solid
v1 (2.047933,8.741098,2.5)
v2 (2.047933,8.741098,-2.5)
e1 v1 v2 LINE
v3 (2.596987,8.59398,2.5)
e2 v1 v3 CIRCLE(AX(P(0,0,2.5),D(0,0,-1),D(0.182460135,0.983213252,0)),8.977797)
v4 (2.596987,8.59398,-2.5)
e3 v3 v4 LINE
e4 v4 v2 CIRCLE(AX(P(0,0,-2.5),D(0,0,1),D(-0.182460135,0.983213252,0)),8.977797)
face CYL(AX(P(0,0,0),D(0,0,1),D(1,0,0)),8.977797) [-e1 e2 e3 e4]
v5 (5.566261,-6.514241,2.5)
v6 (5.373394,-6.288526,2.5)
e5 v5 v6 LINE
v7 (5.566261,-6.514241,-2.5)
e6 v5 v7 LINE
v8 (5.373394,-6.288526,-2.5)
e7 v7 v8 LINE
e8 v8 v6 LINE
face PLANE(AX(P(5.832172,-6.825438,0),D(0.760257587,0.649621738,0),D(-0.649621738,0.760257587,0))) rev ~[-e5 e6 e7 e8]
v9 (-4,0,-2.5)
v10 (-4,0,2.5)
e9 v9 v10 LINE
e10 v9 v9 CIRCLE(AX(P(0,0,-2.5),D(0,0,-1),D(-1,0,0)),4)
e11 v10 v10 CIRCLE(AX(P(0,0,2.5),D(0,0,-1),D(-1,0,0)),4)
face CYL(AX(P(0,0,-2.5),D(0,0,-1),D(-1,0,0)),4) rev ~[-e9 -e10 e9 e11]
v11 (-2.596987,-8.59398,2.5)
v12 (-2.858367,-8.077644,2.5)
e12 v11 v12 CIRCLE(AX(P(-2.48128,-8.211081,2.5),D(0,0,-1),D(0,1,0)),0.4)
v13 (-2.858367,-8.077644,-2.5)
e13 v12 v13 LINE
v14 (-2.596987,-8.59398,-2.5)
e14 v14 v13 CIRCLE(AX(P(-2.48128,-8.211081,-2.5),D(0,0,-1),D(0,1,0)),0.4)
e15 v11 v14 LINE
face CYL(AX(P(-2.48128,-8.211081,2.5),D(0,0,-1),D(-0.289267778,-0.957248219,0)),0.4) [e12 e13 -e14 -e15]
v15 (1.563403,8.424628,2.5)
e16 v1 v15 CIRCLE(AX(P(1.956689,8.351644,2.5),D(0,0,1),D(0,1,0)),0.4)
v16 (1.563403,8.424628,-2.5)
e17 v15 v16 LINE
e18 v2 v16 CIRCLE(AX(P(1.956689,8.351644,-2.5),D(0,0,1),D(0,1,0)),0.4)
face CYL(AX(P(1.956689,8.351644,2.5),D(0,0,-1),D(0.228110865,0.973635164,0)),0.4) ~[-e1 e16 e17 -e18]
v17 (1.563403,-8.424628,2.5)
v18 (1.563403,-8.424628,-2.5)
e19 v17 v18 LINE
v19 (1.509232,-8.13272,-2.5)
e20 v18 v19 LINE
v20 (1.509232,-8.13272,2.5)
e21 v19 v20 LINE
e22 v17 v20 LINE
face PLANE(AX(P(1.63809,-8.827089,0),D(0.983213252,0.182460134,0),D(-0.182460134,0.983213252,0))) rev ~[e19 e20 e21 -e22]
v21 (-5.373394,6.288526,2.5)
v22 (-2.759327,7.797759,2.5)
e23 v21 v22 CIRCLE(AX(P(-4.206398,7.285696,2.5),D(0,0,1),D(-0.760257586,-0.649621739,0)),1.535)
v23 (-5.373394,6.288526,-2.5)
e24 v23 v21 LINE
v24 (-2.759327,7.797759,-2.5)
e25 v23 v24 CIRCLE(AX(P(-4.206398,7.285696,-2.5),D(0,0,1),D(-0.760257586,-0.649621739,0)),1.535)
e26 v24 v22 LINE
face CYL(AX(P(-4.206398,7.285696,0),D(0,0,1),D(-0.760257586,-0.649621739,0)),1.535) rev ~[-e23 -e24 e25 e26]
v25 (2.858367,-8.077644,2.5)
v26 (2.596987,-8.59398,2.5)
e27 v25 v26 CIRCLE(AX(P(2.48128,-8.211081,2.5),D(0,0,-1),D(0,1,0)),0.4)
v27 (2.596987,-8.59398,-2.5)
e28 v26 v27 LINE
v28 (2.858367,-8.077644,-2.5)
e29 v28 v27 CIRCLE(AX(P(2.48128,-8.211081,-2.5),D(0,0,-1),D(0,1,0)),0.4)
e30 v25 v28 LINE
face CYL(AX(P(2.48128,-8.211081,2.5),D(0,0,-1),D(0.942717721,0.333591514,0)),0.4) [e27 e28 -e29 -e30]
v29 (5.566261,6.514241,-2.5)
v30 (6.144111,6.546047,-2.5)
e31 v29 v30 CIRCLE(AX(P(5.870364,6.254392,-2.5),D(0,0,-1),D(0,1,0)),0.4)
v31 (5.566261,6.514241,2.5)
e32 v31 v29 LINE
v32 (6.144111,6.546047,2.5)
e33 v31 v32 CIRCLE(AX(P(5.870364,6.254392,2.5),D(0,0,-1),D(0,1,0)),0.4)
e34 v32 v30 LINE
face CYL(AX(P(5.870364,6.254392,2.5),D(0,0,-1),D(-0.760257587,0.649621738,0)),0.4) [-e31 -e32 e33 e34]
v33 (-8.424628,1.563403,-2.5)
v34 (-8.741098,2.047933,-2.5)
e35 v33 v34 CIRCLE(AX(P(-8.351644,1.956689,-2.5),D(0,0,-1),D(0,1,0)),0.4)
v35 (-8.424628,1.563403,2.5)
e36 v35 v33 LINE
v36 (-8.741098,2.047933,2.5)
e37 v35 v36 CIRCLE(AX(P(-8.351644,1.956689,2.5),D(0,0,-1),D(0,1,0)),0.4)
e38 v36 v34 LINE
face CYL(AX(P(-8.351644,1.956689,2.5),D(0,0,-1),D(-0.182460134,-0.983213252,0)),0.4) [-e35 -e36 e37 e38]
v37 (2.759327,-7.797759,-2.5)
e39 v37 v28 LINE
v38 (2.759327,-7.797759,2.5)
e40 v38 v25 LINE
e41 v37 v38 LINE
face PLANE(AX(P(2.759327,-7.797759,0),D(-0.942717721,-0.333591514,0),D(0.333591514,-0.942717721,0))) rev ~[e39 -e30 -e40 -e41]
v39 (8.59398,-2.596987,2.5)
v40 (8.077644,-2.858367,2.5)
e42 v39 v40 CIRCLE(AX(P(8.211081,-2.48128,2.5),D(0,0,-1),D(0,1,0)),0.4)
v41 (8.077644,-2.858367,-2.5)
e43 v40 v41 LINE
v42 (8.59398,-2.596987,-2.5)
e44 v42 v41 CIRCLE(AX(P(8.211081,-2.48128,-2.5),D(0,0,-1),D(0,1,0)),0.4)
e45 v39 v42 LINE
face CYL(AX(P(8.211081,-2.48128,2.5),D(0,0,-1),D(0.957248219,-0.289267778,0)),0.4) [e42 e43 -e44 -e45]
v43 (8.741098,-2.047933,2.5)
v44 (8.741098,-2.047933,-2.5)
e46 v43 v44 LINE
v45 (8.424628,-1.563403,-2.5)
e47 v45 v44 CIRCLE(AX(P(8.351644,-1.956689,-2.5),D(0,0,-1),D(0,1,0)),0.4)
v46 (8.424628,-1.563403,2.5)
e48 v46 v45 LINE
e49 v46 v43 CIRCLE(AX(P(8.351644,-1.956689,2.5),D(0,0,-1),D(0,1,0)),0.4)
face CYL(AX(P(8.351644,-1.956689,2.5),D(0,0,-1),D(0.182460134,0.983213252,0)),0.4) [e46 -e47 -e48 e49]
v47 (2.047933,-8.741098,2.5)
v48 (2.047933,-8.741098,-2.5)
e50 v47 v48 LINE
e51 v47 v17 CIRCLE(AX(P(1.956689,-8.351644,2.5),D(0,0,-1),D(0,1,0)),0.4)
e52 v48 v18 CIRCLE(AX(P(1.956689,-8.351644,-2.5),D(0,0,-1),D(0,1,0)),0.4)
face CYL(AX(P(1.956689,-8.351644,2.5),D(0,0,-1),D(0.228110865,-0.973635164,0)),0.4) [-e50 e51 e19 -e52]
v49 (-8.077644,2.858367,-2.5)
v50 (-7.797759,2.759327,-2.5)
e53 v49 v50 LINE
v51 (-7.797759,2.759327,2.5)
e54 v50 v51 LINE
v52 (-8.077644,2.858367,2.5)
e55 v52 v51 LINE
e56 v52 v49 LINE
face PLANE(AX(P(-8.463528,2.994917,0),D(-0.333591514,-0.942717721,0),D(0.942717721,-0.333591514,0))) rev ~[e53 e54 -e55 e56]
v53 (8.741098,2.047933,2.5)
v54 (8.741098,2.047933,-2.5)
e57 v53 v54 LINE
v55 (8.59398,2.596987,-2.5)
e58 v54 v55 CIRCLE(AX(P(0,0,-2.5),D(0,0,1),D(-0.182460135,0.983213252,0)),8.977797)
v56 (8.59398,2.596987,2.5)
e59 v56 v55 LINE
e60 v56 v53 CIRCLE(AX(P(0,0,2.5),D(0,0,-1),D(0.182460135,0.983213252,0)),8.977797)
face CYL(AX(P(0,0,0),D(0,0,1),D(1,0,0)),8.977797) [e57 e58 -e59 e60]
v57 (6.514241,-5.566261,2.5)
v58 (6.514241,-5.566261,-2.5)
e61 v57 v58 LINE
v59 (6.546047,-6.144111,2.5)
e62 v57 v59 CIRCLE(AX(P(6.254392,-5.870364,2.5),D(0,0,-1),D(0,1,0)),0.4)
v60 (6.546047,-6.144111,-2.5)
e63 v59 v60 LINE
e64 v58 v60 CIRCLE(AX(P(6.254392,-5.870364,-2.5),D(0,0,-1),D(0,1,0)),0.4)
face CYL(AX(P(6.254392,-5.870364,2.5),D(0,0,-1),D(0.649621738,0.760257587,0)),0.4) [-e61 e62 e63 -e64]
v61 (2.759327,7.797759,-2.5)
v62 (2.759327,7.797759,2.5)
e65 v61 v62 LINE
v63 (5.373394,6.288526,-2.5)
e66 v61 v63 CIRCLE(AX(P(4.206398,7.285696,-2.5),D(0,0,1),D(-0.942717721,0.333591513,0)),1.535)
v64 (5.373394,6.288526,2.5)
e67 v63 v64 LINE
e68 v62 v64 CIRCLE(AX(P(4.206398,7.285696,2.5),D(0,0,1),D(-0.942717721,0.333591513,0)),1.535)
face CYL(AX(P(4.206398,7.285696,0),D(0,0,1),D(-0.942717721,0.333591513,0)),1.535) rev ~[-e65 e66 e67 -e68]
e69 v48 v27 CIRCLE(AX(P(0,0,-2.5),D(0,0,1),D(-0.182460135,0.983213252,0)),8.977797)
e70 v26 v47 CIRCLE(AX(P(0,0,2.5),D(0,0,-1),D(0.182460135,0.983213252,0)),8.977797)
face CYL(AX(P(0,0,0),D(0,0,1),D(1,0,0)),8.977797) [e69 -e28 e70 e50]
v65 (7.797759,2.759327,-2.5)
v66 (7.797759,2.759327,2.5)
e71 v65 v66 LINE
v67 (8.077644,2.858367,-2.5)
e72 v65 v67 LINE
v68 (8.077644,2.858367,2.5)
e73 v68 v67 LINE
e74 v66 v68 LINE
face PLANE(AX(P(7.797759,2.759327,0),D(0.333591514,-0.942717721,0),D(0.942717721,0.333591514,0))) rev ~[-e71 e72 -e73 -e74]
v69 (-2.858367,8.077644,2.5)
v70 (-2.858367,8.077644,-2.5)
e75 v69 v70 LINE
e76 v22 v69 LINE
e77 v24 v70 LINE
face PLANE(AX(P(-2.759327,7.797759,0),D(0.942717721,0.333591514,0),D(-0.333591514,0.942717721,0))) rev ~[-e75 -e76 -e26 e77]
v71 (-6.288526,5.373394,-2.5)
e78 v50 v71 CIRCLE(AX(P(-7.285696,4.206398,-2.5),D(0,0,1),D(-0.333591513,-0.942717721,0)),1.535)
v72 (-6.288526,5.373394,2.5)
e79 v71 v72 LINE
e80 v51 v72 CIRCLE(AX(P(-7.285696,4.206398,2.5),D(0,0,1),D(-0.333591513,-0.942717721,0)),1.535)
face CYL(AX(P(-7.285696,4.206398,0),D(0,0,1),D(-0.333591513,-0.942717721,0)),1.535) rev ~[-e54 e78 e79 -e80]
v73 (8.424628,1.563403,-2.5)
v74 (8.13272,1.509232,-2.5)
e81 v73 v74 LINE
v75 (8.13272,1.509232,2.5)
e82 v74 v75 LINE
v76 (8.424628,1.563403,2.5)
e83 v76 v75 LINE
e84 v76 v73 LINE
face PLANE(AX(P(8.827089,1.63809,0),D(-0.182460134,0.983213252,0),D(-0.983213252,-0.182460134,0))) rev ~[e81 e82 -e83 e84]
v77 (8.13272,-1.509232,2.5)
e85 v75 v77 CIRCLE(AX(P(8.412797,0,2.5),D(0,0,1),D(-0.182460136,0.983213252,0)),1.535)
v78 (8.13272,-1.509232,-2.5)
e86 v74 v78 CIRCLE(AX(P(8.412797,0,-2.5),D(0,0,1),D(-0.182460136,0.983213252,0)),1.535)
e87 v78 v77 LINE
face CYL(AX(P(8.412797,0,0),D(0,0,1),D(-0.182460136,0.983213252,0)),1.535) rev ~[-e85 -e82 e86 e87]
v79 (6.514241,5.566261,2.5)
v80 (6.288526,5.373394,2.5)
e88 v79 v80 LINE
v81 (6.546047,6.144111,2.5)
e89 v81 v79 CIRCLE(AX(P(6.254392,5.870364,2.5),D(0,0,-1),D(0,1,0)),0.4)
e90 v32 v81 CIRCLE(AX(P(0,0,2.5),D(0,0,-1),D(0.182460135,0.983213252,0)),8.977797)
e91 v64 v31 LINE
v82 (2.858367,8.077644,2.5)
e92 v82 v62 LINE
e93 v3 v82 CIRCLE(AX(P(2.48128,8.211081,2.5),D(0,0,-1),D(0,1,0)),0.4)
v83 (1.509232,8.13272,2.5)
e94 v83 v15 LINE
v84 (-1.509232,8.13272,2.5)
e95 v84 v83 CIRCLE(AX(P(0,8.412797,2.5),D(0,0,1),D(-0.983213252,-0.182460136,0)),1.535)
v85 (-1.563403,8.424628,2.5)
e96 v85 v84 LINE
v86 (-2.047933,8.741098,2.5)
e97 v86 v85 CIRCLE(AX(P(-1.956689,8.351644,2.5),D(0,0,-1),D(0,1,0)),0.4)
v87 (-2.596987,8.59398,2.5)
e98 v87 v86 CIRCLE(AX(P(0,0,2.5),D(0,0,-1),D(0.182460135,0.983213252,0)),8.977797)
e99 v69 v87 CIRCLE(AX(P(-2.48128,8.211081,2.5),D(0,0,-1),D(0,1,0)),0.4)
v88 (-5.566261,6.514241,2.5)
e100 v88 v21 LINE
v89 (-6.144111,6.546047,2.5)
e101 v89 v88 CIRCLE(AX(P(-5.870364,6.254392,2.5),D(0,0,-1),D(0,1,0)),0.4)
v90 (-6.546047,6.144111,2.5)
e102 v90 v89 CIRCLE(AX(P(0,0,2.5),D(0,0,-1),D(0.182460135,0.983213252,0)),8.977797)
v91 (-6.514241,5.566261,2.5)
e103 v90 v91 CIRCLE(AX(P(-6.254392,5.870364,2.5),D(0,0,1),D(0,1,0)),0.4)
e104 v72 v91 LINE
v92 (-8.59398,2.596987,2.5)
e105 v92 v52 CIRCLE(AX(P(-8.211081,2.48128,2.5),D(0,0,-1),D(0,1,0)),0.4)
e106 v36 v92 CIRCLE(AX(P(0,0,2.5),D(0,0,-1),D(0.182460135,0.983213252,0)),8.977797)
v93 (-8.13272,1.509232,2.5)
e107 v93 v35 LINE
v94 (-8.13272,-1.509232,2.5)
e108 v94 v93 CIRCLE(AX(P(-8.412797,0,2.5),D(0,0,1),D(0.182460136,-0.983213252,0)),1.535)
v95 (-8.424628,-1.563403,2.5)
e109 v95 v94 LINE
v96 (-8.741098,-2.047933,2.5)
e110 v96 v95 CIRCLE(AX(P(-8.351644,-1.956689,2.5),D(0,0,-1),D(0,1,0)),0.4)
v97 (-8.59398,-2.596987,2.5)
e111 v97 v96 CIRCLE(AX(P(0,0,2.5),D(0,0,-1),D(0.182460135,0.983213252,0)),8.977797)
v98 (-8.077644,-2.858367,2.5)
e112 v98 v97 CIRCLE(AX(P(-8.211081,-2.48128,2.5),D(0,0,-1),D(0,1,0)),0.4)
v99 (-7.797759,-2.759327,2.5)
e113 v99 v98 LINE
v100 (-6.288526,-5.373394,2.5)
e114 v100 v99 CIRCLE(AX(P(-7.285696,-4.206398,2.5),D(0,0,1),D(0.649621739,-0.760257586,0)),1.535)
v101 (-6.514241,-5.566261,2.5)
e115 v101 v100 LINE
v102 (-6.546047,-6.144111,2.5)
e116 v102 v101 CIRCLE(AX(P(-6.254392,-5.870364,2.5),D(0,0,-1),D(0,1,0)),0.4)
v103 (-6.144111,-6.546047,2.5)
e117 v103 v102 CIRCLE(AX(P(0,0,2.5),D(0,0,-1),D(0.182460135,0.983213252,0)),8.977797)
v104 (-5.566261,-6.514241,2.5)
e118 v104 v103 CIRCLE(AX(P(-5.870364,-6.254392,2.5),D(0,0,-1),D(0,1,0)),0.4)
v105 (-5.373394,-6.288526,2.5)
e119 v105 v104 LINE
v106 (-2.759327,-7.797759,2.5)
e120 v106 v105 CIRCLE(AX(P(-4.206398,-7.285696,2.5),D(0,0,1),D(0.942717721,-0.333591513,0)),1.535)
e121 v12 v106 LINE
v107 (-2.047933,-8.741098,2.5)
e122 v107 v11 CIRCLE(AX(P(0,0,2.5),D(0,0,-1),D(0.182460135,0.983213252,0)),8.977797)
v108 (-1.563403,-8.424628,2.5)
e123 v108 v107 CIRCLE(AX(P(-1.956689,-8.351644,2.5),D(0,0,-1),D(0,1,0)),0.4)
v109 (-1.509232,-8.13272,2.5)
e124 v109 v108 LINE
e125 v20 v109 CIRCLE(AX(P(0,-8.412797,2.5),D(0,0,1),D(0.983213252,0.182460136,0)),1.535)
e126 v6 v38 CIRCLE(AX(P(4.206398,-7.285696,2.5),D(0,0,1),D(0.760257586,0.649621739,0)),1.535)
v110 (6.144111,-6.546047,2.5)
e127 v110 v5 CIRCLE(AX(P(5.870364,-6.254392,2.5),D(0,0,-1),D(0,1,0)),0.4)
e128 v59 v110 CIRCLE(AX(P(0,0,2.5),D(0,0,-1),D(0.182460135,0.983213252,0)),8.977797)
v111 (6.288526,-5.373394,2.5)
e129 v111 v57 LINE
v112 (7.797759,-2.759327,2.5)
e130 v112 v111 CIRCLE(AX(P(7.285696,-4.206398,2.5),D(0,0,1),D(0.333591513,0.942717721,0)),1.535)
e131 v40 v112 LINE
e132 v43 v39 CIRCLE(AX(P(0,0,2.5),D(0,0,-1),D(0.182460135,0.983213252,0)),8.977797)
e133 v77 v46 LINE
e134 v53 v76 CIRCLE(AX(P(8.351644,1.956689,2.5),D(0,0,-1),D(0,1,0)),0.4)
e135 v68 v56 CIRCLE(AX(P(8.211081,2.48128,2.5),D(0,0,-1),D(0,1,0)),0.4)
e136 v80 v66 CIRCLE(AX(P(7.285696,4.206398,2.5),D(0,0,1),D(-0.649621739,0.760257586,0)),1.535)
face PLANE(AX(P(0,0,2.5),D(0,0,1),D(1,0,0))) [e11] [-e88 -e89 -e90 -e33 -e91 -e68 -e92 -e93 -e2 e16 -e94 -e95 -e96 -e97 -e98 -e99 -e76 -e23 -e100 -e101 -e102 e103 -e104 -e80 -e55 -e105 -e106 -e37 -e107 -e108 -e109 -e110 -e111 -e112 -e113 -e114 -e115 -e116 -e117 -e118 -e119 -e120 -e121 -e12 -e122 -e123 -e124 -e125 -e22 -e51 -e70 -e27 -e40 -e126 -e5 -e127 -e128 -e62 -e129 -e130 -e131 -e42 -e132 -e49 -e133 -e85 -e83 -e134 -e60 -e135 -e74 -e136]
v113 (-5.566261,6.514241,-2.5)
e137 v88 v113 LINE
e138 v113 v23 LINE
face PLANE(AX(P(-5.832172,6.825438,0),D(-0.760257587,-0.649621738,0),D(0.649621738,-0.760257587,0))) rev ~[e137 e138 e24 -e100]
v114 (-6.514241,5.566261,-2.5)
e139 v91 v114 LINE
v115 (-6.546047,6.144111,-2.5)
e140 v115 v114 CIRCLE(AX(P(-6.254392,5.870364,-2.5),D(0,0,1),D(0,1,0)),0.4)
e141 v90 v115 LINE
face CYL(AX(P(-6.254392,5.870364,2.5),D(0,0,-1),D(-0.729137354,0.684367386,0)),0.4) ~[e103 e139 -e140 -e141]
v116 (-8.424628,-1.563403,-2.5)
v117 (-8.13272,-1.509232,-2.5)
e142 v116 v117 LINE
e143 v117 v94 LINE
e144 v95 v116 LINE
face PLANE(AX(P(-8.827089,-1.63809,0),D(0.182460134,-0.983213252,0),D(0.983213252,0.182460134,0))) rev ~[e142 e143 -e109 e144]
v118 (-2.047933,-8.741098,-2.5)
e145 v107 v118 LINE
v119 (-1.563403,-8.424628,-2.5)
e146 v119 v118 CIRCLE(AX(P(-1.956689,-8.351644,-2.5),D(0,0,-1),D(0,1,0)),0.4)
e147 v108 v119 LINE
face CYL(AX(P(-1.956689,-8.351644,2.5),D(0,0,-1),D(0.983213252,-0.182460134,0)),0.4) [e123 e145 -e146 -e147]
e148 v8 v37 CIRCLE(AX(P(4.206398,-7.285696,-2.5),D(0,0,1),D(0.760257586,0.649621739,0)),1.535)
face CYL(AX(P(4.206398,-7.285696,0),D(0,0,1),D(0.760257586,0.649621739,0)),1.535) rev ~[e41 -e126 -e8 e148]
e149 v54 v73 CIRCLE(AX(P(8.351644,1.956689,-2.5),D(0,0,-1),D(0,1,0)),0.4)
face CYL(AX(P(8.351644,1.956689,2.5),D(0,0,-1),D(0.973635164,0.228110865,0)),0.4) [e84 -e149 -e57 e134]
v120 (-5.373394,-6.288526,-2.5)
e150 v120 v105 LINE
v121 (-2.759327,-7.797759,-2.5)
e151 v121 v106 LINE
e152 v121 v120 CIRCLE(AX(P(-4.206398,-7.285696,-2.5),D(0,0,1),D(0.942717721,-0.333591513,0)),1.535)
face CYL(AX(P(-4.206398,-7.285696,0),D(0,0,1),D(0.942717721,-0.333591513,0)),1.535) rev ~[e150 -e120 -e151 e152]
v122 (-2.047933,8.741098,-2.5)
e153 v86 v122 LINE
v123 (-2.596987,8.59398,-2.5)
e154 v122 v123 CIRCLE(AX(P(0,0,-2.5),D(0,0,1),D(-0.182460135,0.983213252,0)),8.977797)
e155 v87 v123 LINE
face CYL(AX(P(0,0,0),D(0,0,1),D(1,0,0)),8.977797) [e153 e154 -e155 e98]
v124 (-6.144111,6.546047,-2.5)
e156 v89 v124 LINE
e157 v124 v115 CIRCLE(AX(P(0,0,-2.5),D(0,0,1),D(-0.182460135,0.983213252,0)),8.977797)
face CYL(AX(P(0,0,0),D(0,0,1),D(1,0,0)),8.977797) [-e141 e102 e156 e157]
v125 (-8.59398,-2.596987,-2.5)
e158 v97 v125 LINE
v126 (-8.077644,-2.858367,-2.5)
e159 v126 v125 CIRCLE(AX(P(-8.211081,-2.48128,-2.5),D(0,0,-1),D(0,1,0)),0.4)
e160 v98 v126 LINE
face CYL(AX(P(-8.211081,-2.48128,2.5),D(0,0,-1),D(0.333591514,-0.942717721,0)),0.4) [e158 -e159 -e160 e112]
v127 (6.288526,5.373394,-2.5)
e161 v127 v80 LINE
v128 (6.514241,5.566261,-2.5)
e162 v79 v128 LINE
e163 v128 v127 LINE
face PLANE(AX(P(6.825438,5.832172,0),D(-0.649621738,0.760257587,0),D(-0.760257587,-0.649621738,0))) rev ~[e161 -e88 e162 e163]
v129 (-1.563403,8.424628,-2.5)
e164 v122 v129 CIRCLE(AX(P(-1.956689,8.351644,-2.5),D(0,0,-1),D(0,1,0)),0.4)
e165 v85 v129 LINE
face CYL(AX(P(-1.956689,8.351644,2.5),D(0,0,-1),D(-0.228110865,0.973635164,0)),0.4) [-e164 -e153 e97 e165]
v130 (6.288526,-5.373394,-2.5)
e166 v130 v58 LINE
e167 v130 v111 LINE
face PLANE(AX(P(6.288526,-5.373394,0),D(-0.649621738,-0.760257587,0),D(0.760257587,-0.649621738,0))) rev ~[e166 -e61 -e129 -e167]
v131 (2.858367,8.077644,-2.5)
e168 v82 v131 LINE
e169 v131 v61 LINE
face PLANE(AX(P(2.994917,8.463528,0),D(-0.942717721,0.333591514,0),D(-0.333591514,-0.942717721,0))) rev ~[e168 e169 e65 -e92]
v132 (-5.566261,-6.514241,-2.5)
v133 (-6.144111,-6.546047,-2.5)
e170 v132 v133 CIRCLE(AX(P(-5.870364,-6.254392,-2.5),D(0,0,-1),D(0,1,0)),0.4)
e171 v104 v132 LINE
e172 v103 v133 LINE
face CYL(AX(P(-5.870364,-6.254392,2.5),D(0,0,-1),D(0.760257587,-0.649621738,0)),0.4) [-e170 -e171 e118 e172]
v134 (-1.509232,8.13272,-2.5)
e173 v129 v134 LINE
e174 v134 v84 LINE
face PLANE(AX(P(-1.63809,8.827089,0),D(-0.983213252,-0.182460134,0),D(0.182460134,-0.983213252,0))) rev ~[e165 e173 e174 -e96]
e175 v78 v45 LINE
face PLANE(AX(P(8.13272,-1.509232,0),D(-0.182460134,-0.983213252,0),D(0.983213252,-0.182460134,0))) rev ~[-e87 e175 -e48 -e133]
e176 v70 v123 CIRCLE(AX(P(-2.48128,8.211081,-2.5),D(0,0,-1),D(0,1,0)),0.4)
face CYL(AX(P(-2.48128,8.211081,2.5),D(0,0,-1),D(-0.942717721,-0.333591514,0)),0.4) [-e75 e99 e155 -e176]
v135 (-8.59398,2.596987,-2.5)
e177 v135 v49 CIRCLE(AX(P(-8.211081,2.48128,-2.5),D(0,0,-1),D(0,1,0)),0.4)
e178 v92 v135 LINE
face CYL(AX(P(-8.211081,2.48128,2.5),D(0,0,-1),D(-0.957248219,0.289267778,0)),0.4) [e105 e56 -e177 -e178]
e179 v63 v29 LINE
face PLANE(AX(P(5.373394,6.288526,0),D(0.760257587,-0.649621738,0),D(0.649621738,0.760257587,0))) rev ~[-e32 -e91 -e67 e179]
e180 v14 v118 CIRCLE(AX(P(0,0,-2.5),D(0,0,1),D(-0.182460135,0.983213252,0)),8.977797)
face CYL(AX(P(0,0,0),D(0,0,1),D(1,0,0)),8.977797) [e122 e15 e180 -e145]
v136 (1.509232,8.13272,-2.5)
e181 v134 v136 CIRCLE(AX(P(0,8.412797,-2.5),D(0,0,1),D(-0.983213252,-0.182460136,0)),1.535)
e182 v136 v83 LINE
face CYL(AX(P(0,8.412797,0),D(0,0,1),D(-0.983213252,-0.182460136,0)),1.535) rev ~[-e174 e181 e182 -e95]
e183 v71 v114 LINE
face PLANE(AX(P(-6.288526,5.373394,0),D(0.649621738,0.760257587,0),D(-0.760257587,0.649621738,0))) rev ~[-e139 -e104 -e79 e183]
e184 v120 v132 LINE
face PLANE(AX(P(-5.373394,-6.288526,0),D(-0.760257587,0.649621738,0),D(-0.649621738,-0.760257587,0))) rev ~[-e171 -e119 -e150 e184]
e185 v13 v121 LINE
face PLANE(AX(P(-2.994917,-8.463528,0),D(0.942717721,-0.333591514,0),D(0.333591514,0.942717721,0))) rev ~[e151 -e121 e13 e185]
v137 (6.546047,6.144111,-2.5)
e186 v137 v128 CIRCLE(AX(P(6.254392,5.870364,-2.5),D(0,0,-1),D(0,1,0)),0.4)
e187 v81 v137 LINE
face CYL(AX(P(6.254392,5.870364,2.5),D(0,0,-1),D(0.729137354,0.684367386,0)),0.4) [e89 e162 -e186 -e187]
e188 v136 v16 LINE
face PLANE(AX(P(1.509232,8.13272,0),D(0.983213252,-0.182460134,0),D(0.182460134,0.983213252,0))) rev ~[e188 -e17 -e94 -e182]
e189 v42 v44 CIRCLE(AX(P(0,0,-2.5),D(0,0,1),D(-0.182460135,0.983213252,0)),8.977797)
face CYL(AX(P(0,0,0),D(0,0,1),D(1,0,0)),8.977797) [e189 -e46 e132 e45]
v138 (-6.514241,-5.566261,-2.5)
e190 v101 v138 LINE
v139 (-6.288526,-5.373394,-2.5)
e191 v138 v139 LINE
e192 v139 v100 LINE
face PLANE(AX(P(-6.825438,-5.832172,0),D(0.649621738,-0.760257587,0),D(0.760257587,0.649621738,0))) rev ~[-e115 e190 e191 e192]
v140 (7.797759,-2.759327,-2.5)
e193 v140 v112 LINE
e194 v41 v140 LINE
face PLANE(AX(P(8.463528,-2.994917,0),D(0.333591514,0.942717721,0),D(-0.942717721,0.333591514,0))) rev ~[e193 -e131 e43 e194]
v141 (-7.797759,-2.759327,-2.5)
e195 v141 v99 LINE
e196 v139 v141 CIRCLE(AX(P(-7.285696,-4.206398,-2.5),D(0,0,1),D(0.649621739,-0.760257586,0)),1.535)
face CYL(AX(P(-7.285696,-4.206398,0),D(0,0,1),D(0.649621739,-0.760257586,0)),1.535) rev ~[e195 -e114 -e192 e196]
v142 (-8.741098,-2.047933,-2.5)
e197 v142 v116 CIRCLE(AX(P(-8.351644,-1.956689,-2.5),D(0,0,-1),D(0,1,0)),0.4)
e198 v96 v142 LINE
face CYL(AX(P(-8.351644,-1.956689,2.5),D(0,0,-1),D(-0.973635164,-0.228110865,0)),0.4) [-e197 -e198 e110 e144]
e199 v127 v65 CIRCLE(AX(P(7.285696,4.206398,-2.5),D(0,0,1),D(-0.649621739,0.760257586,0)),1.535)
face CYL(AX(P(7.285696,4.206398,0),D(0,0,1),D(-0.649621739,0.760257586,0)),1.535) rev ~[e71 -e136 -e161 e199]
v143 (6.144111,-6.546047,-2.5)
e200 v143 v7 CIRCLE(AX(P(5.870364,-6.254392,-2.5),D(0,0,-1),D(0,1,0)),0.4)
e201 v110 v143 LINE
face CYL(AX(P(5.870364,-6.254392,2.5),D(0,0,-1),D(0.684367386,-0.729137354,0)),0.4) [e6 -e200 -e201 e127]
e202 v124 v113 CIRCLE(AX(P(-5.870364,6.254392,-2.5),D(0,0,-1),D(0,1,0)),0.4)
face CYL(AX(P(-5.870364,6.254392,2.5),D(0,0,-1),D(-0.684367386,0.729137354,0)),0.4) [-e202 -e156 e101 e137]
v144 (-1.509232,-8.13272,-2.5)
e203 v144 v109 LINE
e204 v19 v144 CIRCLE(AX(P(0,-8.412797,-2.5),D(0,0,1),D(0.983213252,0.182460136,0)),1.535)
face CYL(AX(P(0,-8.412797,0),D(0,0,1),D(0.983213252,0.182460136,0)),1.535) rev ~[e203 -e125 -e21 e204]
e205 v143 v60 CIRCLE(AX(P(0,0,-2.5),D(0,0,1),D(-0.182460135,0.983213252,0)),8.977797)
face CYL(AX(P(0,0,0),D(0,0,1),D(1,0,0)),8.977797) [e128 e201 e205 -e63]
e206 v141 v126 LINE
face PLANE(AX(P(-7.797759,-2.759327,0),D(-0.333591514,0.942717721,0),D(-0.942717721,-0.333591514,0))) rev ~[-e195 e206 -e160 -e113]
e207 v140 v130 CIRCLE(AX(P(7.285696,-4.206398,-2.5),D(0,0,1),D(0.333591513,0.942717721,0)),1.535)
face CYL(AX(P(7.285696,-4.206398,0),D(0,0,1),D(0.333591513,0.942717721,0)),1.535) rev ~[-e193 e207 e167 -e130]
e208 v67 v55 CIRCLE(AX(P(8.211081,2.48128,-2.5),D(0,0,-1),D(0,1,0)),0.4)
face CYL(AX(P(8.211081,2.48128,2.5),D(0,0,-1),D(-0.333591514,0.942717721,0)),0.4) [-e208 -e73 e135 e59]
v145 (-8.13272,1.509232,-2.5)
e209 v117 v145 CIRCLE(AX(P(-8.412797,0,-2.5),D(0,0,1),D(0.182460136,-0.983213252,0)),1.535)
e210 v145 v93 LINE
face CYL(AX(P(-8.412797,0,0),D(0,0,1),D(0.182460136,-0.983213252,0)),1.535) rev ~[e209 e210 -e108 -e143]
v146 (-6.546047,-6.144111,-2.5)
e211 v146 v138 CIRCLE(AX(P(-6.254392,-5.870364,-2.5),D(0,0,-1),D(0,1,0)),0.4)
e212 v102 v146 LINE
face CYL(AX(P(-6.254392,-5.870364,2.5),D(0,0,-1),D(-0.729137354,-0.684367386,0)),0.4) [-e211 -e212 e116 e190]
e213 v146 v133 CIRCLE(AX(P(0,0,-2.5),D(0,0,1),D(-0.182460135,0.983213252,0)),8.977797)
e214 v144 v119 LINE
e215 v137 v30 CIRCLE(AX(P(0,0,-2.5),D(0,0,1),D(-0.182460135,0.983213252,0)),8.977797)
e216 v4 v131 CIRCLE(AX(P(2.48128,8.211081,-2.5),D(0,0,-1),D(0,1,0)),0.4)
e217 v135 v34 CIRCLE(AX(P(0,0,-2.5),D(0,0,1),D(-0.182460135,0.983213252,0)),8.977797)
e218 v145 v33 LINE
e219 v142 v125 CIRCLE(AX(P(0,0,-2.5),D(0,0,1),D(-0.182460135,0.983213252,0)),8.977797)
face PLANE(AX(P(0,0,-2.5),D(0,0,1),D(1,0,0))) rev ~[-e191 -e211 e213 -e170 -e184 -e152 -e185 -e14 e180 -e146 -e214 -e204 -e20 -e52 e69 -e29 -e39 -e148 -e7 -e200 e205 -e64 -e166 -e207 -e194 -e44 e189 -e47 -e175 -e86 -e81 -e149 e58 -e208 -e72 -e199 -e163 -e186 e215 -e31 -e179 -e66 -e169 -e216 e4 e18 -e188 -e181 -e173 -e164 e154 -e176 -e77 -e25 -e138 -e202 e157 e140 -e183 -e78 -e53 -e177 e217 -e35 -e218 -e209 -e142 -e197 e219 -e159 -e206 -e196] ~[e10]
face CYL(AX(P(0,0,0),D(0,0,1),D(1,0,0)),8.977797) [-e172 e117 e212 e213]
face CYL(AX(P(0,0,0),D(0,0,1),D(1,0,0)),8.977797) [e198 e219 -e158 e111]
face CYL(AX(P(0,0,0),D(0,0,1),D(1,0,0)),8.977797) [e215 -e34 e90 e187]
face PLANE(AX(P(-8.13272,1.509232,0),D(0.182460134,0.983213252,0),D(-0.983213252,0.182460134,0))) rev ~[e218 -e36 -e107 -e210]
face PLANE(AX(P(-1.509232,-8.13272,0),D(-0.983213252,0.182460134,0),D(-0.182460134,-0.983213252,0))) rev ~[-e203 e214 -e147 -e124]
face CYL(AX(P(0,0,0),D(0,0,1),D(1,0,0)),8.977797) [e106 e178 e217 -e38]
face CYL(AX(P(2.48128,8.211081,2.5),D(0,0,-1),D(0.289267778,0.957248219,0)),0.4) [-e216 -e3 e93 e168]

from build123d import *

# Parameters (mm, degrees)
SKETCH_3_R                       = 8.977796586
EXTRUDE_2_DEPTH                  = 2.5
CUT_EXTRUDE_2_DEPTH              = 13.940311552
FILLET_1_R                       = 0.4
PATTERN_CIRCULAR_1_COUNT         = 12
FILLET_1_OF_PATTERN_CIRCULAR_1_R = 0.4
SKETCH_4_R                       = 4
CUT_EXTRUDE_3_DEPTH              = 14.348503998


with BuildPart() as part:
    # 스케치3 → 보스-돌출2 (new, symmetric)
    with BuildSketch(Plane.XY):
        Circle(SKETCH_3_R)
    extrude(amount=EXTRUDE_2_DEPTH, both=True)

    # 스케치3<3> → 컷-돌출2 (cut, symmetric)
    with BuildSketch(Plane.XY):
        with BuildLine():
            Line((-1.638089976, 8.827088578), (-1.509232342, 8.132720278))
            ThreePointArc((-1.509232342, 8.132720278), (0, 6.877796586), (1.509232342, 8.132720278))
            Line((1.509232342, 8.132720278), (1.638089976, 8.827088578))
            ThreePointArc((1.638089976, 8.827088578), (0, 8.977796586), (-1.638089976, 8.827088578))
        make_face()
    cut_extrude_2 = extrude(amount=CUT_EXTRUDE_2_DEPTH, both=True, mode=Mode.SUBTRACT)

    # 필렛1
    fillet_1_edges = [part.edges().sort_by_distance(p)[0] for p in [
        (1.638089976, 8.827088578, 0),
        (-1.638089976, 8.827088578, 0),
    ]]
    fillet(fillet_1_edges, radius=FILLET_1_R)

    # 원형 패턴1: 컷-돌출2 ×12 about axis
    pattern_circular_1_axis = Axis((0, 0, 2.5), (0, 0, -1))
    for i in range(1, PATTERN_CIRCULAR_1_COUNT):
        add(cut_extrude_2.rotate(pattern_circular_1_axis, i * 360 / PATTERN_CIRCULAR_1_COUNT), mode=Mode.SUBTRACT)

    # 필렛1 of 원형 패턴1
    fillet_1_of_pattern_circular_1_edges = [part.edges().sort_by_distance(p)[0] for p in [
        (5.832171822, 6.825437962, 0),
        (2.994916756, 8.463527938, 0),
        (8.463527938, 2.994916756, 0),
        (6.825437962, 5.832171822, 0),
        (8.827088578, -1.638089976, 0),
        (8.827088578, 1.638089976, 0),
        (6.825437962, -5.832171822, 0),
        (8.463527938, -2.994916756, 0),
        (2.994916756, -8.463527938, 0),
        (5.832171822, -6.825437962, 0),
        (-1.638089976, -8.827088578, 0),
        (1.638089976, -8.827088578, 0),
        (-5.832171822, -6.825437962, 0),
        (-2.994916756, -8.463527938, 0),
        (-8.463527938, -2.994916756, 0),
        (-6.825437962, -5.832171822, 0),
        (-8.827088578, 1.638089976, 0),
        (-8.827088578, -1.638089976, 0),
        (-6.825437962, 5.832171822, 0),
        (-8.463527938, 2.994916756, 0),
        (-2.994916756, 8.463527938, 0),
        (-5.832171822, 6.825437962, 0),
    ]]
    fillet(fillet_1_of_pattern_circular_1_edges, radius=FILLET_1_OF_PATTERN_CIRCULAR_1_R)

    # 스케치4 → 컷-돌출3 (cut, through all)
    with BuildSketch(Plane(origin=(0, 0, -2.5), x_dir=(-1, 0, 0), z_dir=(0, 0, -1))):
        Circle(SKETCH_4_R)
    extrude(amount=-CUT_EXTRUDE_3_DEPTH, mode=Mode.SUBTRACT)


solid = part.part
